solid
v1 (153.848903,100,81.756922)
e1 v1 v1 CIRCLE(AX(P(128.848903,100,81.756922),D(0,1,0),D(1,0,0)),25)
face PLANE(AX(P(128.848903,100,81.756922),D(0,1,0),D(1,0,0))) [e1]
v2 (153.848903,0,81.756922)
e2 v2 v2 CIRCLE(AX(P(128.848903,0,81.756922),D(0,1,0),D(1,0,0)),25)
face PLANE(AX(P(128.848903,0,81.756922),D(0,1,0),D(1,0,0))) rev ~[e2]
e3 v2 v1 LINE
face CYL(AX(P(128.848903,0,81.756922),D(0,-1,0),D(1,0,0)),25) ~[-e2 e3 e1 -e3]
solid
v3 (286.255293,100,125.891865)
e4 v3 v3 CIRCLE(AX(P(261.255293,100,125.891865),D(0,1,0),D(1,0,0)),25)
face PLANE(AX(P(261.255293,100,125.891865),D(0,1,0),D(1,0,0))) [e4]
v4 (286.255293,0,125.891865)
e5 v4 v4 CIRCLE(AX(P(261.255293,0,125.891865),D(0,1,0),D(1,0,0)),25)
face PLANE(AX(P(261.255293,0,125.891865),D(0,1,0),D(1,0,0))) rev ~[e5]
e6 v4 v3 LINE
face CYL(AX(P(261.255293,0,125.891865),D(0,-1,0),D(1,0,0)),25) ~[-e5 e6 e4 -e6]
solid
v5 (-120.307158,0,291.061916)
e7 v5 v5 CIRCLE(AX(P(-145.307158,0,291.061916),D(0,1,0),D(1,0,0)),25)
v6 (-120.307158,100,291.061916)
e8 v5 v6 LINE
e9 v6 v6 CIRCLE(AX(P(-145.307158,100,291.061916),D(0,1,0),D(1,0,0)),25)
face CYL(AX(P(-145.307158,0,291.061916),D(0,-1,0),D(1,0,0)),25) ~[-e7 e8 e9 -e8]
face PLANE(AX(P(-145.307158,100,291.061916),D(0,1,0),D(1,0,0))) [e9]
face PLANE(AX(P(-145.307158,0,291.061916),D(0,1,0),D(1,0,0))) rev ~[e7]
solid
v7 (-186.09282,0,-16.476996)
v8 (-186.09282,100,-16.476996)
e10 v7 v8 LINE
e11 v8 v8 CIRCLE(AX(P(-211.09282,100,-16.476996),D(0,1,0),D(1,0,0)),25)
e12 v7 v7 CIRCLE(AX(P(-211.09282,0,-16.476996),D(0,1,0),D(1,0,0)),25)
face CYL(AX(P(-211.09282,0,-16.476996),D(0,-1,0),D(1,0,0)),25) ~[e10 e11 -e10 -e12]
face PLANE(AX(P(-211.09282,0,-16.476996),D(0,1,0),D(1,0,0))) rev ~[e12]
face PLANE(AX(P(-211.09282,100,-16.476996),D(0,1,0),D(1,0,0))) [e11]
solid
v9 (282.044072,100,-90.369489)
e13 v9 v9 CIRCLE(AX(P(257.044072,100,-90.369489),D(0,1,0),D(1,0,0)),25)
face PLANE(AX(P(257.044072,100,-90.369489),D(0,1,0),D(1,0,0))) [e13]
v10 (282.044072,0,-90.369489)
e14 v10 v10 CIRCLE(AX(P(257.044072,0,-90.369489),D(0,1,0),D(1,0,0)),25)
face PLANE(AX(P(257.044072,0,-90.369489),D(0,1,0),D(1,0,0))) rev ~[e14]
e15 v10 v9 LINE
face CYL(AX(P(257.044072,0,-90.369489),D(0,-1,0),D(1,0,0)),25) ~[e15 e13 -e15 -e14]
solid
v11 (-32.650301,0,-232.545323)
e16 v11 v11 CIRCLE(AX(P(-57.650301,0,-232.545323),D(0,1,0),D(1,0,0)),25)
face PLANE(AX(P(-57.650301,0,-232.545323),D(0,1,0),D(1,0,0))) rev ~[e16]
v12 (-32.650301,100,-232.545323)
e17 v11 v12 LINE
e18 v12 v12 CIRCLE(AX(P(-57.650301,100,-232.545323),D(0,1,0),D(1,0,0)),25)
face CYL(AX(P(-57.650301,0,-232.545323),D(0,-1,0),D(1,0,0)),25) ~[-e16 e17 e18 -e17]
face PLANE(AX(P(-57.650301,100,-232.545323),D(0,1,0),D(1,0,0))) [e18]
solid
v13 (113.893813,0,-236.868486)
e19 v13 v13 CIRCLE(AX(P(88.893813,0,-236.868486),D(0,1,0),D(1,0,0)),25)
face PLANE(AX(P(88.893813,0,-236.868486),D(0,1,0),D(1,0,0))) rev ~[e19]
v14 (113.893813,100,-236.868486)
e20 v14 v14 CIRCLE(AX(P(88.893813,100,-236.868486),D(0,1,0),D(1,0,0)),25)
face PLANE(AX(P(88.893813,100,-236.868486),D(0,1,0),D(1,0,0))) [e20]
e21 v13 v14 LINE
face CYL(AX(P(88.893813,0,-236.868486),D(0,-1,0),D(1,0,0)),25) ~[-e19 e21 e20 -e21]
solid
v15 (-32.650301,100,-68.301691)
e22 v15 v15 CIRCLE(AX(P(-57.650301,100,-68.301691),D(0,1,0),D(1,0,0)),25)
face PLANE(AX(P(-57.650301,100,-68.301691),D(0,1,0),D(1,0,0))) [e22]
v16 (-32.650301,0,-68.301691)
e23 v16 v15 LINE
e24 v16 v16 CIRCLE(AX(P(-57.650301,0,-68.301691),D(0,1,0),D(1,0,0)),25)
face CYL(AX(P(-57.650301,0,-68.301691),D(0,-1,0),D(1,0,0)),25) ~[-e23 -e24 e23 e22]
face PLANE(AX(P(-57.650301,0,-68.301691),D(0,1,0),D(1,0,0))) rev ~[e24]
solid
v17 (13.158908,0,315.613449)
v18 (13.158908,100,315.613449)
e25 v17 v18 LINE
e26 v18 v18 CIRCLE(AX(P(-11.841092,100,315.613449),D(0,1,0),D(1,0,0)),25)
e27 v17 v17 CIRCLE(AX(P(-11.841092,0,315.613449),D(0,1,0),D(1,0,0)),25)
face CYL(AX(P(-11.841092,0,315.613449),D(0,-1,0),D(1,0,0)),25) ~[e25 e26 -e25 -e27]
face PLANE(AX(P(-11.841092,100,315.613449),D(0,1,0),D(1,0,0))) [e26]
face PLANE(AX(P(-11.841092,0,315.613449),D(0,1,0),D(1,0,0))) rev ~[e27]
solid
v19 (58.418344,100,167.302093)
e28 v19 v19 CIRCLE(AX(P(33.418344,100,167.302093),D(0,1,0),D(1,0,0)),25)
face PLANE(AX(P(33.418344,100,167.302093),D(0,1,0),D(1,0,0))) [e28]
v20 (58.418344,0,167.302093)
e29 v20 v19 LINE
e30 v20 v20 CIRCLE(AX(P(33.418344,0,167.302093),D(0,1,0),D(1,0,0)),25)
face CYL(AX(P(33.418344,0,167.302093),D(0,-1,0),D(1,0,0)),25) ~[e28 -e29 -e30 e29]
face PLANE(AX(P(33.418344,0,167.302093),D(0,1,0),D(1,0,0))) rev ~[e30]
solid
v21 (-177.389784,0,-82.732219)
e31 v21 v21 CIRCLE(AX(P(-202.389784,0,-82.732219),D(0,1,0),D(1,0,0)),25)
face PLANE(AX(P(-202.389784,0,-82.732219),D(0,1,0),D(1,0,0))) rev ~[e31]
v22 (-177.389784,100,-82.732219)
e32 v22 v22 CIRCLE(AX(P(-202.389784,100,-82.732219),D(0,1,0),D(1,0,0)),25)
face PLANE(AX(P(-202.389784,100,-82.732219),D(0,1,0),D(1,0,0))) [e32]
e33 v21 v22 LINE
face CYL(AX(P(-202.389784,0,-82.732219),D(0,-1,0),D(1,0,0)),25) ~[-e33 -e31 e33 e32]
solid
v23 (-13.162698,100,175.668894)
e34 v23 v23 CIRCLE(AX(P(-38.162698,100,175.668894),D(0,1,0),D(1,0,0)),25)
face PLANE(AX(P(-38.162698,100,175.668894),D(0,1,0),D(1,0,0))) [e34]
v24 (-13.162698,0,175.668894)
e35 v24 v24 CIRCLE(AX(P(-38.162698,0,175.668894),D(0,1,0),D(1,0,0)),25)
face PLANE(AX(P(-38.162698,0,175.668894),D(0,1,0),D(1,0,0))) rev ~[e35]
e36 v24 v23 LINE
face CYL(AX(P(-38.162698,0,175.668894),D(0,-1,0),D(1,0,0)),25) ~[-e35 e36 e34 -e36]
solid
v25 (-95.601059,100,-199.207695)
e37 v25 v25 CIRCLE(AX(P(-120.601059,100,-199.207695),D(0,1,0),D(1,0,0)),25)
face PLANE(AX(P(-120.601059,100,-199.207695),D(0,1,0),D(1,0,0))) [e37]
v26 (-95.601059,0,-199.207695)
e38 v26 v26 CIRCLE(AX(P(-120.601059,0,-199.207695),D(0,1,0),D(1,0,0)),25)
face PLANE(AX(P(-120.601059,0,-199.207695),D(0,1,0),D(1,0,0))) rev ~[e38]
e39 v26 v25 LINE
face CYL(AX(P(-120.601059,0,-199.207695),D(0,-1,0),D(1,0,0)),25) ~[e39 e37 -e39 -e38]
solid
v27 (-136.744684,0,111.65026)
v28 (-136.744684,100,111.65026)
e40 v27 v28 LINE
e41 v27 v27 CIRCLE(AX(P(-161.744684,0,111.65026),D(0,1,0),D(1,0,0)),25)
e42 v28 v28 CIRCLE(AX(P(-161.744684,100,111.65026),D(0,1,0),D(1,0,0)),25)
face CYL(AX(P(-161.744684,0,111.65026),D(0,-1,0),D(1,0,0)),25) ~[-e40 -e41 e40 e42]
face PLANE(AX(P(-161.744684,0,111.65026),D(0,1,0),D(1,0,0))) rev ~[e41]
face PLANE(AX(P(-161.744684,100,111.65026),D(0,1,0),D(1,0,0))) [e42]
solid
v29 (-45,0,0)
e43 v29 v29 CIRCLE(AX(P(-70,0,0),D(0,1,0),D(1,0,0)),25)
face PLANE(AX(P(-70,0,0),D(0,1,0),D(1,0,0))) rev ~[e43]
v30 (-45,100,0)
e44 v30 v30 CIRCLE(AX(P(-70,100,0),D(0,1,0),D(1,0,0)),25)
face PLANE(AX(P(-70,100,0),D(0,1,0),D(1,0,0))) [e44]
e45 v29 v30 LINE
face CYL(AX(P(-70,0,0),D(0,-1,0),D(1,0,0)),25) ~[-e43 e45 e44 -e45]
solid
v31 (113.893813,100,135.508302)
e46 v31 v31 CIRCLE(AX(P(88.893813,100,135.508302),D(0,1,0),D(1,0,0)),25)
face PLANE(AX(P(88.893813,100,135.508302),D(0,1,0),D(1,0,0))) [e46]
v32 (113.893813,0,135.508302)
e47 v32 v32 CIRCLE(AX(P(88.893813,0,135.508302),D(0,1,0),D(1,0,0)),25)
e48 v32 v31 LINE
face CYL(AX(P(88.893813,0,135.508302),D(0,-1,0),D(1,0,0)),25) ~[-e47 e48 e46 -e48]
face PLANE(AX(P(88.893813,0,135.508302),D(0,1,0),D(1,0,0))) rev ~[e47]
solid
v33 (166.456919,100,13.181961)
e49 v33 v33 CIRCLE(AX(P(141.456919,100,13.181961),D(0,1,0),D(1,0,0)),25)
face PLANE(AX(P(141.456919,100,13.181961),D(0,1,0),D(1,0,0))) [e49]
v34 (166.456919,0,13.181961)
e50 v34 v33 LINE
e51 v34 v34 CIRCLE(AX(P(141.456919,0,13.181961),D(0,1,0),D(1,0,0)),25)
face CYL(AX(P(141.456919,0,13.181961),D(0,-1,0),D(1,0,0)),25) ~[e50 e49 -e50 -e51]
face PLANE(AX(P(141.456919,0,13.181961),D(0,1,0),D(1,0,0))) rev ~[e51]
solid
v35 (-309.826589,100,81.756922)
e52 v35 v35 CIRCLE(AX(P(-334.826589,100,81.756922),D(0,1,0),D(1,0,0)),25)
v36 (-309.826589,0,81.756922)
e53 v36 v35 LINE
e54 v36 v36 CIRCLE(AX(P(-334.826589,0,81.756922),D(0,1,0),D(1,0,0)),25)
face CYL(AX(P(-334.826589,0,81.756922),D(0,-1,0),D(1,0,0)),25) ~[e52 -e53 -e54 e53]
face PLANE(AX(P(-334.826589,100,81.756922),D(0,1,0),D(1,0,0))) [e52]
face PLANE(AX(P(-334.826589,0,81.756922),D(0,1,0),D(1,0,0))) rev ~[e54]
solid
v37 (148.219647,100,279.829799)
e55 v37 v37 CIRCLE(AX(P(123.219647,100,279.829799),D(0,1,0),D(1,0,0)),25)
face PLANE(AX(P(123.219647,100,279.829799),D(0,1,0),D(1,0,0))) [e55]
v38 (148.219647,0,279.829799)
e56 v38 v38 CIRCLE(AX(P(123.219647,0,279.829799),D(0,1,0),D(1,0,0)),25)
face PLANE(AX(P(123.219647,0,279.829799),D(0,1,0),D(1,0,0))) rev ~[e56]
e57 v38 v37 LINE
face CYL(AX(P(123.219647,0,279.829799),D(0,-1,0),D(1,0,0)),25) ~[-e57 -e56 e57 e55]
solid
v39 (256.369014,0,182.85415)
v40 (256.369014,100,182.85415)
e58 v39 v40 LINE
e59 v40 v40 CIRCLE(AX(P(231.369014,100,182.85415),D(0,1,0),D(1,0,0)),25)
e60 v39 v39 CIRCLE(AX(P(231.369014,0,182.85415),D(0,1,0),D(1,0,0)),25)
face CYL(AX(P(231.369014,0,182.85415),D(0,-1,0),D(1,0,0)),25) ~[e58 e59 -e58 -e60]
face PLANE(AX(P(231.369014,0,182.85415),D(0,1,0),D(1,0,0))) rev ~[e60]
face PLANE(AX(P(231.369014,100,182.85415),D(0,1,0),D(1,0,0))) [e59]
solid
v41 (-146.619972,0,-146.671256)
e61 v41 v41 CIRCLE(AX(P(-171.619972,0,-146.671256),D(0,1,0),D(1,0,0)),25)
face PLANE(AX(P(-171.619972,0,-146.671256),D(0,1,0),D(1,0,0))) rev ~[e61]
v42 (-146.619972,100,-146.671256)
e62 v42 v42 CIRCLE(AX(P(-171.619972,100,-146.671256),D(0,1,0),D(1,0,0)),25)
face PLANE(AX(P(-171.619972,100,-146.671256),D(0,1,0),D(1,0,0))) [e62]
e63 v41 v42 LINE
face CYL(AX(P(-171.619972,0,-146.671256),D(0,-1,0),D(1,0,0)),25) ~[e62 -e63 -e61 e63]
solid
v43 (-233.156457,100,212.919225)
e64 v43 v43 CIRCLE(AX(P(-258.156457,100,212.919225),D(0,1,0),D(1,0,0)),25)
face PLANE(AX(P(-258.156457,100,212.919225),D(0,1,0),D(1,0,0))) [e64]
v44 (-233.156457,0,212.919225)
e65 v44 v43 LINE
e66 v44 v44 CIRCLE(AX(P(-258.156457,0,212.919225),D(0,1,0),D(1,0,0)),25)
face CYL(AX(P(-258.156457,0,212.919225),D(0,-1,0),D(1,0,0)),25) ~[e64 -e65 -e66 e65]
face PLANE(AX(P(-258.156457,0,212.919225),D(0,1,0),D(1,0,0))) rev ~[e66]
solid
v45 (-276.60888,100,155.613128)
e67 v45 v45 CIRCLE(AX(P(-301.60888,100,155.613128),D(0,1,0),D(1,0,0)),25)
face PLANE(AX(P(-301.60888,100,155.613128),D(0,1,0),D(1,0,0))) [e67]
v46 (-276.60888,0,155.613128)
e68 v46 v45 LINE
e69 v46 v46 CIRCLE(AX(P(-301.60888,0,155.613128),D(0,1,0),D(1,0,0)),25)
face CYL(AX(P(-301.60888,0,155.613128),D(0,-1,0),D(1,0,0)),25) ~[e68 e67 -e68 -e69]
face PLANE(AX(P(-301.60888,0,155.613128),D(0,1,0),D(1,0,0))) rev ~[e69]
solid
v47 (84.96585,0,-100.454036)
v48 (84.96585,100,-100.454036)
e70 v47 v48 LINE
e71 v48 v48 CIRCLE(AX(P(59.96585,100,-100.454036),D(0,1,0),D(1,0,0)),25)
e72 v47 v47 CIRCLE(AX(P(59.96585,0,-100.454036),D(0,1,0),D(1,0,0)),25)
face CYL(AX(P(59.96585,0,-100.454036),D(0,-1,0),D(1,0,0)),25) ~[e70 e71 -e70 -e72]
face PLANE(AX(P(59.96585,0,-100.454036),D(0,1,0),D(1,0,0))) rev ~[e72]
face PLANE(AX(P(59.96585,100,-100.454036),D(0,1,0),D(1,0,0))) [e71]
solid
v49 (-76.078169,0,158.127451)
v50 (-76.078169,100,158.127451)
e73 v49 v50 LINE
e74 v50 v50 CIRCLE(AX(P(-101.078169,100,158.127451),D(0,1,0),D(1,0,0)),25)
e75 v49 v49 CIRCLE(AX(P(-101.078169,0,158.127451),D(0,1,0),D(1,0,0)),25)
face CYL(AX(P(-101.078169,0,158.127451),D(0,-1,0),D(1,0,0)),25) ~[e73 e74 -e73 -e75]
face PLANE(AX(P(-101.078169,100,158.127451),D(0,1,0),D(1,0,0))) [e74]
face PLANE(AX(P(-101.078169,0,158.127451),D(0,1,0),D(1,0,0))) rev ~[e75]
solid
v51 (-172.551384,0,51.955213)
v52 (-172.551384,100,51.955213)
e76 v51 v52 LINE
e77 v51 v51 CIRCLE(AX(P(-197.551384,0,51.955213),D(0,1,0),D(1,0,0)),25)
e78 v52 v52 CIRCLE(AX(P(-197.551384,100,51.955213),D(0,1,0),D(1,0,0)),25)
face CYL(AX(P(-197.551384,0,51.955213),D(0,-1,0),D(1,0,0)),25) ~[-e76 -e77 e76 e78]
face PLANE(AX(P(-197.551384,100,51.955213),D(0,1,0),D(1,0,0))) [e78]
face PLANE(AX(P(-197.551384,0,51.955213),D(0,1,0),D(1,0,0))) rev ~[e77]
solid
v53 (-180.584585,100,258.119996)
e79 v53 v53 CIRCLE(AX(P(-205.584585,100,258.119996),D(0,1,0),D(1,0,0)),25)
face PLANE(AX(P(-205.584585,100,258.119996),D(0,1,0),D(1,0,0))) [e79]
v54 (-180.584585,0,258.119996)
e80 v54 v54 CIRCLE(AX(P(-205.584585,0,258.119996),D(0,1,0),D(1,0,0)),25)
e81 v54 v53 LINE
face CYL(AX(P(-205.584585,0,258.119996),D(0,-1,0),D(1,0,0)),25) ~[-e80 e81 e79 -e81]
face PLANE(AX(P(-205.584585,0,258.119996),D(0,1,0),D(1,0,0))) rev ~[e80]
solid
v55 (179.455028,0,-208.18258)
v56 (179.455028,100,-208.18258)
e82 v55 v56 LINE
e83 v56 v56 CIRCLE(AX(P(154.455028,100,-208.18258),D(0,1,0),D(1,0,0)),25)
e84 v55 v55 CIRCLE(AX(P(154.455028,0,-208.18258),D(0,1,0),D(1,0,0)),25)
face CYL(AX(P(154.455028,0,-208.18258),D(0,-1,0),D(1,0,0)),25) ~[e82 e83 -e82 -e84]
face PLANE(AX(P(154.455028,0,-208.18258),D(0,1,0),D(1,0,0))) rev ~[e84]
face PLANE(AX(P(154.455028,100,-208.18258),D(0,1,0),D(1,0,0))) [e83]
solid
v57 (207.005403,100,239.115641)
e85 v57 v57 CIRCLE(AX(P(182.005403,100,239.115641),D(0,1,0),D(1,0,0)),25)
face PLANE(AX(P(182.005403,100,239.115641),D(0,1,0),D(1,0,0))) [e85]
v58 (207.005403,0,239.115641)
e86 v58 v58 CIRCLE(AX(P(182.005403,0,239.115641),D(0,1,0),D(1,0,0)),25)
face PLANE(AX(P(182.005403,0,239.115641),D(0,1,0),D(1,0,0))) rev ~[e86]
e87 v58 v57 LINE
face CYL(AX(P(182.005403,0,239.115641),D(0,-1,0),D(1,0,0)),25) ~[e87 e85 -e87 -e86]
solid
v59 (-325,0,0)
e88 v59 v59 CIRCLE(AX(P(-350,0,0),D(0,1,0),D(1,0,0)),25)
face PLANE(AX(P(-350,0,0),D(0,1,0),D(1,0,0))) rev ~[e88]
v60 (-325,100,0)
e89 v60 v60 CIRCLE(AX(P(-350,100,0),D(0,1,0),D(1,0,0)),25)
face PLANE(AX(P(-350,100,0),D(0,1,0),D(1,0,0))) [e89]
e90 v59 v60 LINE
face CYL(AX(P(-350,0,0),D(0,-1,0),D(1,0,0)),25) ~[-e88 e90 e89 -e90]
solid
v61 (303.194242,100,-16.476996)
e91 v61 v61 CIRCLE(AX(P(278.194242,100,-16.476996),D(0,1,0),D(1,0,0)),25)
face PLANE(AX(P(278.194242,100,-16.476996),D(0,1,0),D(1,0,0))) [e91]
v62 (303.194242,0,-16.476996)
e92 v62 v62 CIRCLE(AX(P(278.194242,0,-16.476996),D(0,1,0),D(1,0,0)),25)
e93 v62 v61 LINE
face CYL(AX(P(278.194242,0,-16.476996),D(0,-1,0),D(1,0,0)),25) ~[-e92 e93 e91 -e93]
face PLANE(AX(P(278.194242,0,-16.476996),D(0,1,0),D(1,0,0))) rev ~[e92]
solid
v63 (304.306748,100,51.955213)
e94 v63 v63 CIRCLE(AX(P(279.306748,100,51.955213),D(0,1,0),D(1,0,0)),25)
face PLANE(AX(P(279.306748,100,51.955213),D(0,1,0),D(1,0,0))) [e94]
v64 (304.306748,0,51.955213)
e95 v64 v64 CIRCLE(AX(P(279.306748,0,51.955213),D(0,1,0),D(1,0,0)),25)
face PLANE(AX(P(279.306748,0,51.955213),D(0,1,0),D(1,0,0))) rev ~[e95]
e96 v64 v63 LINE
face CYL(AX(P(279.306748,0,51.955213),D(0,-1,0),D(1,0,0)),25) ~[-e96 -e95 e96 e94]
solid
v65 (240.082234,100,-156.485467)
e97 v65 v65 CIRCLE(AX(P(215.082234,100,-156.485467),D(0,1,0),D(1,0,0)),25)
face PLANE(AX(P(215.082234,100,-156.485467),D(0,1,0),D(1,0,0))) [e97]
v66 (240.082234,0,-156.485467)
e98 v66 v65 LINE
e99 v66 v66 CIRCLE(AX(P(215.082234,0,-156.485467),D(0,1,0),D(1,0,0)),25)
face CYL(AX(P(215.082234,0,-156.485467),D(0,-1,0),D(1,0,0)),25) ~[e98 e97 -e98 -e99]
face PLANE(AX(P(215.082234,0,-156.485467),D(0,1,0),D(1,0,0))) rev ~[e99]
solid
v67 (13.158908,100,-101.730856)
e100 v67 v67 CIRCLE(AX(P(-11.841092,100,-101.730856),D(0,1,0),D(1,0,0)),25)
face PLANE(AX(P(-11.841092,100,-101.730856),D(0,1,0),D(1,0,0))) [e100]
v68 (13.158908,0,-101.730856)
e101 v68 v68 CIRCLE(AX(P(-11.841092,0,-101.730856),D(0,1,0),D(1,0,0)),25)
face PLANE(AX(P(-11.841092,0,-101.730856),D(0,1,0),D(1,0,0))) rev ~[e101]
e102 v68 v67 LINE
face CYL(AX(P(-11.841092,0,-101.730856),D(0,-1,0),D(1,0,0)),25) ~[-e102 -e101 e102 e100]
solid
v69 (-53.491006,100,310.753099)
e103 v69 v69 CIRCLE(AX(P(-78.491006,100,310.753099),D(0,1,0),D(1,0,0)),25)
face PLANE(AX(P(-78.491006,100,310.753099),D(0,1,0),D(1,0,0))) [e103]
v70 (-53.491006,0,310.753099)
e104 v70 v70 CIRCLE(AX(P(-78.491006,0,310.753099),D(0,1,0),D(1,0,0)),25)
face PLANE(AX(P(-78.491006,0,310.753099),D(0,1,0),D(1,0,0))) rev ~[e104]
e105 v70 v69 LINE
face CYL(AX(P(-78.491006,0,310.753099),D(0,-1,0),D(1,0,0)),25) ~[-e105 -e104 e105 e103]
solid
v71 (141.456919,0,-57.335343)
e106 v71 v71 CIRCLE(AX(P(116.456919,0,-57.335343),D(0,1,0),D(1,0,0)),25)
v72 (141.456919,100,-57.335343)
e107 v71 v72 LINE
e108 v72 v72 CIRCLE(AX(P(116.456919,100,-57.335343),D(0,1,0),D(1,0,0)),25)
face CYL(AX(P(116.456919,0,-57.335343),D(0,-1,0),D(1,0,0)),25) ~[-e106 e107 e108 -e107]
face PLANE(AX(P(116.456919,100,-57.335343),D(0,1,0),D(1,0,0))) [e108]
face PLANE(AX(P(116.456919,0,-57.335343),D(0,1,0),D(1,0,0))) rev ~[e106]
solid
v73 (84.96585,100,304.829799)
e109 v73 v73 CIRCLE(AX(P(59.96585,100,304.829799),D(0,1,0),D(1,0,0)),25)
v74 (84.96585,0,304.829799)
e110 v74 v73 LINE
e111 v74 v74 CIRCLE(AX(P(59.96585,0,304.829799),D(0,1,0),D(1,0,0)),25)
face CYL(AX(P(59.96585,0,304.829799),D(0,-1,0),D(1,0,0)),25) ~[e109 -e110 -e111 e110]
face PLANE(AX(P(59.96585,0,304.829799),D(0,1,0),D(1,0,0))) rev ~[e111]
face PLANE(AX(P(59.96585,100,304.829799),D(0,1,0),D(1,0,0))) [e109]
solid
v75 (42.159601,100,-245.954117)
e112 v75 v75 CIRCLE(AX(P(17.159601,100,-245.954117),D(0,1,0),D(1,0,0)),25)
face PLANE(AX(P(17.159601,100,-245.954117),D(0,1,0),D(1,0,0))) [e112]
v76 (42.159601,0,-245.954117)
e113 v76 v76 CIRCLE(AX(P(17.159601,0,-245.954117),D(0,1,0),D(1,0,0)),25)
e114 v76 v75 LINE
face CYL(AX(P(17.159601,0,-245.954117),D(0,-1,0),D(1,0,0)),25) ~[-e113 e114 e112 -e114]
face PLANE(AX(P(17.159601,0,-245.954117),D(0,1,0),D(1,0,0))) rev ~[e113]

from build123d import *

# Parameters (mm, degrees)
SKETCH_3_R         = 25
EXTRUDE_1_DEPTH    = 100
EXTRUDE_1_2_DEPTH  = 100
EXTRUDE_1_3_DEPTH  = 100
EXTRUDE_1_4_DEPTH  = 100
EXTRUDE_1_5_DEPTH  = 100
EXTRUDE_1_6_DEPTH  = 100
EXTRUDE_1_7_DEPTH  = 100
EXTRUDE_1_8_DEPTH  = 100
EXTRUDE_1_9_DEPTH  = 100
EXTRUDE_1_10_DEPTH = 100
EXTRUDE_1_11_DEPTH = 100
EXTRUDE_1_12_DEPTH = 100
EXTRUDE_1_13_DEPTH = 100
EXTRUDE_1_14_DEPTH = 100
EXTRUDE_1_15_DEPTH = 100
EXTRUDE_1_16_DEPTH = 100
EXTRUDE_1_17_DEPTH = 100
EXTRUDE_1_18_DEPTH = 100
EXTRUDE_1_19_DEPTH = 100
EXTRUDE_1_20_DEPTH = 100
EXTRUDE_1_21_DEPTH = 100
EXTRUDE_1_22_DEPTH = 100
EXTRUDE_1_23_DEPTH = 100
EXTRUDE_1_24_DEPTH = 100
EXTRUDE_1_25_DEPTH = 100
EXTRUDE_1_26_DEPTH = 100
EXTRUDE_1_27_DEPTH = 100
EXTRUDE_1_28_DEPTH = 100
EXTRUDE_1_29_DEPTH = 100
EXTRUDE_1_30_DEPTH = 100
EXTRUDE_1_31_DEPTH = 100
EXTRUDE_1_32_DEPTH = 100
EXTRUDE_1_33_DEPTH = 100
EXTRUDE_1_34_DEPTH = 100
EXTRUDE_1_35_DEPTH = 100
EXTRUDE_1_36_DEPTH = 100
EXTRUDE_1_37_DEPTH = 100
EXTRUDE_1_38_DEPTH = 100


with BuildPart() as part:
    # 草圖3 → 填料-伸長1 (new body)
    with BuildSketch(Plane(origin=(0, 0, 0), x_dir=(1, 0, 0), z_dir=(0, 1, 0))):
        with Locations((-350, 0)):
            Circle(SKETCH_3_R)
    extrude(amount=EXTRUDE_1_DEPTH)


with BuildPart() as body_2:
    # 草圖3 → Extrude 1 2 (new body)
    with BuildSketch(Plane(origin=(0, 0, 0), x_dir=(1, 0, 0), z_dir=(0, 1, 0))):
        with Locations((-70, 0)):
            Circle(SKETCH_3_R)
    extrude(amount=EXTRUDE_1_2_DEPTH)


with BuildPart() as body_3:
    # 草圖3 → Extrude 1 3 (new body)
    with BuildSketch(Plane(origin=(0, 0, 0), x_dir=(1, 0, 0), z_dir=(0, 1, 0))):
        with Locations((-57.650301132, 68.301691178)):
            Circle(SKETCH_3_R)
    extrude(amount=EXTRUDE_1_3_DEPTH)


with BuildPart() as body_4:
    # 草圖3 → Extrude 1 4 (new body)
    with BuildSketch(Plane(origin=(0, 0, 0), x_dir=(1, 0, 0), z_dir=(0, 1, 0))):
        with Locations((-11.841092291, 101.730855571)):
            Circle(SKETCH_3_R)
    extrude(amount=EXTRUDE_1_4_DEPTH)


with BuildPart() as body_5:
    # 草圖3 → Extrude 1 5 (new body)
    with BuildSketch(Plane(origin=(0, 0, 0), x_dir=(1, 0, 0), z_dir=(0, 1, 0))):
        with Locations((59.965849817, 100.45403563)):
            Circle(SKETCH_3_R)
    extrude(amount=EXTRUDE_1_5_DEPTH)


with BuildPart() as body_6:
    # 草圖3 → Extrude 1 6 (new body)
    with BuildSketch(Plane(origin=(0, 0, 0), x_dir=(1, 0, 0), z_dir=(0, 1, 0))):
        with Locations((116.456918875, 57.335343342)):
            Circle(SKETCH_3_R)
    extrude(amount=EXTRUDE_1_6_DEPTH)


with BuildPart() as body_7:
    # 草圖3 → Extrude 1 7 (new body)
    with BuildSketch(Plane(origin=(0, 0, 0), x_dir=(1, 0, 0), z_dir=(0, 1, 0))):
        with Locations((141.456918875, -13.181960557)):
            Circle(SKETCH_3_R)
    extrude(amount=EXTRUDE_1_7_DEPTH)


with BuildPart() as body_8:
    # 草圖3 → Extrude 1 8 (new body)
    with BuildSketch(Plane(origin=(0, 0, 0), x_dir=(1, 0, 0), z_dir=(0, 1, 0))):
        with Locations((128.848902731, -81.756922074)):
            Circle(SKETCH_3_R)
    extrude(amount=EXTRUDE_1_8_DEPTH)


with BuildPart() as body_9:
    # 草圖3 → Extrude 1 9 (new body)
    with BuildSketch(Plane(origin=(0, 0, 0), x_dir=(1, 0, 0), z_dir=(0, 1, 0))):
        with Locations((88.893813144, -135.508302325)):
            Circle(SKETCH_3_R)
    extrude(amount=EXTRUDE_1_9_DEPTH)


with BuildPart() as body_10:
    # 草圖3 → Extrude 1 10 (new body)
    with BuildSketch(Plane(origin=(0, 0, 0), x_dir=(1, 0, 0), z_dir=(0, 1, 0))):
        with Locations((33.418343703, -167.302093337)):
            Circle(SKETCH_3_R)
    extrude(amount=EXTRUDE_1_10_DEPTH)


with BuildPart() as body_11:
    # 草圖3 → Extrude 1 11 (new body)
    with BuildSketch(Plane(origin=(0, 0, 0), x_dir=(1, 0, 0), z_dir=(0, 1, 0))):
        with Locations((-38.16269755, -175.668894072)):
            Circle(SKETCH_3_R)
    extrude(amount=EXTRUDE_1_11_DEPTH)


with BuildPart() as body_12:
    # 草圖3 → Extrude 1 12 (new body)
    with BuildSketch(Plane(origin=(0, 0, 0), x_dir=(1, 0, 0), z_dir=(0, 1, 0))):
        with Locations((-101.078169097, -158.127451001)):
            Circle(SKETCH_3_R)
    extrude(amount=EXTRUDE_1_12_DEPTH)


with BuildPart() as body_13:
    # 草圖3 → Extrude 1 13 (new body)
    with BuildSketch(Plane(origin=(0, 0, 0), x_dir=(1, 0, 0), z_dir=(0, 1, 0))):
        with Locations((-161.744684376, -111.650259863)):
            Circle(SKETCH_3_R)
    extrude(amount=EXTRUDE_1_13_DEPTH)


with BuildPart() as body_14:
    # 草圖3 → Extrude 1 14 (new body)
    with BuildSketch(Plane(origin=(0, 0, 0), x_dir=(1, 0, 0), z_dir=(0, 1, 0))):
        with Locations((-197.551384439, -51.955212723)):
            Circle(SKETCH_3_R)
    extrude(amount=EXTRUDE_1_14_DEPTH)


with BuildPart() as body_15:
    # 草圖3 → Extrude 1 15 (new body)
    with BuildSketch(Plane(origin=(0, 0, 0), x_dir=(1, 0, 0), z_dir=(0, 1, 0))):
        with Locations((-211.092819556, 16.476996416)):
            Circle(SKETCH_3_R)
    extrude(amount=EXTRUDE_1_15_DEPTH)


with BuildPart() as body_16:
    # 草圖3 → Extrude 1 16 (new body)
    with BuildSketch(Plane(origin=(0, 0, 0), x_dir=(1, 0, 0), z_dir=(0, 1, 0))):
        with Locations((-202.389783895, 82.73221897)):
            Circle(SKETCH_3_R)
    extrude(amount=EXTRUDE_1_16_DEPTH)


with BuildPart() as body_17:
    # 草圖3 → Extrude 1 17 (new body)
    with BuildSketch(Plane(origin=(0, 0, 0), x_dir=(1, 0, 0), z_dir=(0, 1, 0))):
        with Locations((-171.619971932, 146.671255538)):
            Circle(SKETCH_3_R)
    extrude(amount=EXTRUDE_1_17_DEPTH)


with BuildPart() as body_18:
    # 草圖3 → Extrude 1 18 (new body)
    with BuildSketch(Plane(origin=(0, 0, 0), x_dir=(1, 0, 0), z_dir=(0, 1, 0))):
        with Locations((-120.60105859, 199.207694957)):
            Circle(SKETCH_3_R)
    extrude(amount=EXTRUDE_1_18_DEPTH)


with BuildPart() as body_19:
    # 草圖3 → Extrude 1 19 (new body)
    with BuildSketch(Plane(origin=(0, 0, 0), x_dir=(1, 0, 0), z_dir=(0, 1, 0))):
        with Locations((-57.650301132, 232.545323192)):
            Circle(SKETCH_3_R)
    extrude(amount=EXTRUDE_1_19_DEPTH)


with BuildPart() as body_20:
    # 草圖3 → Extrude 1 20 (new body)
    with BuildSketch(Plane(origin=(0, 0, 0), x_dir=(1, 0, 0), z_dir=(0, 1, 0))):
        with Locations((17.159601471, 245.954116702)):
            Circle(SKETCH_3_R)
    extrude(amount=EXTRUDE_1_20_DEPTH)


with BuildPart() as body_21:
    # 草圖3 → Extrude 1 21 (new body)
    with BuildSketch(Plane(origin=(0, 0, 0), x_dir=(1, 0, 0), z_dir=(0, 1, 0))):
        with Locations((88.893813144, 236.868486463)):
            Circle(SKETCH_3_R)
    extrude(amount=EXTRUDE_1_21_DEPTH)


with BuildPart() as body_22:
    # 草圖3 → Extrude 1 22 (new body)
    with BuildSketch(Plane(origin=(0, 0, 0), x_dir=(1, 0, 0), z_dir=(0, 1, 0))):
        with Locations((154.455028368, 208.18257955)):
            Circle(SKETCH_3_R)
    extrude(amount=EXTRUDE_1_22_DEPTH)


with BuildPart() as body_23:
    # 草圖3 → Extrude 1 23 (new body)
    with BuildSketch(Plane(origin=(0, 0, 0), x_dir=(1, 0, 0), z_dir=(0, 1, 0))):
        with Locations((215.082233843, 156.485467264)):
            Circle(SKETCH_3_R)
    extrude(amount=EXTRUDE_1_23_DEPTH)


with BuildPart() as body_24:
    # 草圖3 → Extrude 1 24 (new body)
    with BuildSketch(Plane(origin=(0, 0, 0), x_dir=(1, 0, 0), z_dir=(0, 1, 0))):
        with Locations((257.044071733, 90.369489462)):
            Circle(SKETCH_3_R)
    extrude(amount=EXTRUDE_1_24_DEPTH)


with BuildPart() as body_25:
    # 草圖3 → Extrude 1 25 (new body)
    with BuildSketch(Plane(origin=(0, 0, 0), x_dir=(1, 0, 0), z_dir=(0, 1, 0))):
        with Locations((278.194241876, 16.476996416)):
            Circle(SKETCH_3_R)
    extrude(amount=EXTRUDE_1_25_DEPTH)


with BuildPart() as body_26:
    # 草圖3 → Extrude 1 26 (new body)
    with BuildSketch(Plane(origin=(0, 0, 0), x_dir=(1, 0, 0), z_dir=(0, 1, 0))):
        with Locations((279.306747869, -51.955212723)):
            Circle(SKETCH_3_R)
    extrude(amount=EXTRUDE_1_26_DEPTH)


with BuildPart() as body_27:
    # 草圖3 → Extrude 1 27 (new body)
    with BuildSketch(Plane(origin=(0, 0, 0), x_dir=(1, 0, 0), z_dir=(0, 1, 0))):
        with Locations((261.25529287, -125.891865261)):
            Circle(SKETCH_3_R)
    extrude(amount=EXTRUDE_1_27_DEPTH)


with BuildPart() as body_28:
    # 草圖3 → Extrude 1 28 (new body)
    with BuildSketch(Plane(origin=(0, 0, 0), x_dir=(1, 0, 0), z_dir=(0, 1, 0))):
        with Locations((231.369014083, -182.854149818)):
            Circle(SKETCH_3_R)
    extrude(amount=EXTRUDE_1_28_DEPTH)


with BuildPart() as body_29:
    # 草圖3 → Extrude 1 29 (new body)
    with BuildSketch(Plane(origin=(0, 0, 0), x_dir=(1, 0, 0), z_dir=(0, 1, 0))):
        with Locations((182.005402855, -239.115641422)):
            Circle(SKETCH_3_R)
    extrude(amount=EXTRUDE_1_29_DEPTH)


with BuildPart() as body_30:
    # 草圖3 → Extrude 1 30 (new body)
    with BuildSketch(Plane(origin=(0, 0, 0), x_dir=(1, 0, 0), z_dir=(0, 1, 0))):
        with Locations((123.219646887, -279.829798551)):
            Circle(SKETCH_3_R)
    extrude(amount=EXTRUDE_1_30_DEPTH)


with BuildPart() as body_31:
    # 草圖3 → Extrude 1 31 (new body)
    with BuildSketch(Plane(origin=(0, 0, 0), x_dir=(1, 0, 0), z_dir=(0, 1, 0))):
        with Locations((59.965849817, -304.829798551)):
            Circle(SKETCH_3_R)
    extrude(amount=EXTRUDE_1_31_DEPTH)


with BuildPart() as body_32:
    # 草圖3 → Extrude 1 32 (new body)
    with BuildSketch(Plane(origin=(0, 0, 0), x_dir=(1, 0, 0), z_dir=(0, 1, 0))):
        with Locations((-11.841092291, -315.613449212)):
            Circle(SKETCH_3_R)
    extrude(amount=EXTRUDE_1_32_DEPTH)


with BuildPart() as body_33:
    # 草圖3 → Extrude 1 33 (new body)
    with BuildSketch(Plane(origin=(0, 0, 0), x_dir=(1, 0, 0), z_dir=(0, 1, 0))):
        with Locations((-78.491005827, -310.753098595)):
            Circle(SKETCH_3_R)
    extrude(amount=EXTRUDE_1_33_DEPTH)


with BuildPart() as body_34:
    # 草圖3 → Extrude 1 34 (new body)
    with BuildSketch(Plane(origin=(0, 0, 0), x_dir=(1, 0, 0), z_dir=(0, 1, 0))):
        with Locations((-145.307158175, -291.0619161)):
            Circle(SKETCH_3_R)
    extrude(amount=EXTRUDE_1_34_DEPTH)


with BuildPart() as body_35:
    # 草圖3 → Extrude 1 35 (new body)
    with BuildSketch(Plane(origin=(0, 0, 0), x_dir=(1, 0, 0), z_dir=(0, 1, 0))):
        with Locations((-205.58458455, -258.11999609)):
            Circle(SKETCH_3_R)
    extrude(amount=EXTRUDE_1_35_DEPTH)


with BuildPart() as body_36:
    # 草圖3 → Extrude 1 36 (new body)
    with BuildSketch(Plane(origin=(0, 0, 0), x_dir=(1, 0, 0), z_dir=(0, 1, 0))):
        with Locations((-258.156456586, -212.919225251)):
            Circle(SKETCH_3_R)
    extrude(amount=EXTRUDE_1_36_DEPTH)


with BuildPart() as body_37:
    # 草圖3 → Extrude 1 37 (new body)
    with BuildSketch(Plane(origin=(0, 0, 0), x_dir=(1, 0, 0), z_dir=(0, 1, 0))):
        with Locations((-301.608879536, -155.613127806)):
            Circle(SKETCH_3_R)
    extrude(amount=EXTRUDE_1_37_DEPTH)


with BuildPart() as body_38:
    # 草圖3 → Extrude 1 38 (new body)
    with BuildSketch(Plane(origin=(0, 0, 0), x_dir=(1, 0, 0), z_dir=(0, 1, 0))):
        with Locations((-334.826589347, -81.756922074)):
            Circle(SKETCH_3_R)
    extrude(amount=EXTRUDE_1_38_DEPTH)


solid = Compound([part.part, body_2.part, body_3.part, body_4.part, body_5.part, body_6.part, body_7.part, body_8.part, body_9.part, body_10.part, body_11.part, body_12.part, body_13.part, body_14.part, body_15.part, body_16.part, body_17.part, body_18.part, body_19.part, body_20.part, body_21.part, body_22.part, body_23.part, body_24.part, body_25.part, body_26.part, body_27.part, body_28.part, body_29.part, body_30.part, body_31.part, body_32.part, body_33.part, body_34.part, body_35.part, body_36.part, body_37.part, body_38.part])
